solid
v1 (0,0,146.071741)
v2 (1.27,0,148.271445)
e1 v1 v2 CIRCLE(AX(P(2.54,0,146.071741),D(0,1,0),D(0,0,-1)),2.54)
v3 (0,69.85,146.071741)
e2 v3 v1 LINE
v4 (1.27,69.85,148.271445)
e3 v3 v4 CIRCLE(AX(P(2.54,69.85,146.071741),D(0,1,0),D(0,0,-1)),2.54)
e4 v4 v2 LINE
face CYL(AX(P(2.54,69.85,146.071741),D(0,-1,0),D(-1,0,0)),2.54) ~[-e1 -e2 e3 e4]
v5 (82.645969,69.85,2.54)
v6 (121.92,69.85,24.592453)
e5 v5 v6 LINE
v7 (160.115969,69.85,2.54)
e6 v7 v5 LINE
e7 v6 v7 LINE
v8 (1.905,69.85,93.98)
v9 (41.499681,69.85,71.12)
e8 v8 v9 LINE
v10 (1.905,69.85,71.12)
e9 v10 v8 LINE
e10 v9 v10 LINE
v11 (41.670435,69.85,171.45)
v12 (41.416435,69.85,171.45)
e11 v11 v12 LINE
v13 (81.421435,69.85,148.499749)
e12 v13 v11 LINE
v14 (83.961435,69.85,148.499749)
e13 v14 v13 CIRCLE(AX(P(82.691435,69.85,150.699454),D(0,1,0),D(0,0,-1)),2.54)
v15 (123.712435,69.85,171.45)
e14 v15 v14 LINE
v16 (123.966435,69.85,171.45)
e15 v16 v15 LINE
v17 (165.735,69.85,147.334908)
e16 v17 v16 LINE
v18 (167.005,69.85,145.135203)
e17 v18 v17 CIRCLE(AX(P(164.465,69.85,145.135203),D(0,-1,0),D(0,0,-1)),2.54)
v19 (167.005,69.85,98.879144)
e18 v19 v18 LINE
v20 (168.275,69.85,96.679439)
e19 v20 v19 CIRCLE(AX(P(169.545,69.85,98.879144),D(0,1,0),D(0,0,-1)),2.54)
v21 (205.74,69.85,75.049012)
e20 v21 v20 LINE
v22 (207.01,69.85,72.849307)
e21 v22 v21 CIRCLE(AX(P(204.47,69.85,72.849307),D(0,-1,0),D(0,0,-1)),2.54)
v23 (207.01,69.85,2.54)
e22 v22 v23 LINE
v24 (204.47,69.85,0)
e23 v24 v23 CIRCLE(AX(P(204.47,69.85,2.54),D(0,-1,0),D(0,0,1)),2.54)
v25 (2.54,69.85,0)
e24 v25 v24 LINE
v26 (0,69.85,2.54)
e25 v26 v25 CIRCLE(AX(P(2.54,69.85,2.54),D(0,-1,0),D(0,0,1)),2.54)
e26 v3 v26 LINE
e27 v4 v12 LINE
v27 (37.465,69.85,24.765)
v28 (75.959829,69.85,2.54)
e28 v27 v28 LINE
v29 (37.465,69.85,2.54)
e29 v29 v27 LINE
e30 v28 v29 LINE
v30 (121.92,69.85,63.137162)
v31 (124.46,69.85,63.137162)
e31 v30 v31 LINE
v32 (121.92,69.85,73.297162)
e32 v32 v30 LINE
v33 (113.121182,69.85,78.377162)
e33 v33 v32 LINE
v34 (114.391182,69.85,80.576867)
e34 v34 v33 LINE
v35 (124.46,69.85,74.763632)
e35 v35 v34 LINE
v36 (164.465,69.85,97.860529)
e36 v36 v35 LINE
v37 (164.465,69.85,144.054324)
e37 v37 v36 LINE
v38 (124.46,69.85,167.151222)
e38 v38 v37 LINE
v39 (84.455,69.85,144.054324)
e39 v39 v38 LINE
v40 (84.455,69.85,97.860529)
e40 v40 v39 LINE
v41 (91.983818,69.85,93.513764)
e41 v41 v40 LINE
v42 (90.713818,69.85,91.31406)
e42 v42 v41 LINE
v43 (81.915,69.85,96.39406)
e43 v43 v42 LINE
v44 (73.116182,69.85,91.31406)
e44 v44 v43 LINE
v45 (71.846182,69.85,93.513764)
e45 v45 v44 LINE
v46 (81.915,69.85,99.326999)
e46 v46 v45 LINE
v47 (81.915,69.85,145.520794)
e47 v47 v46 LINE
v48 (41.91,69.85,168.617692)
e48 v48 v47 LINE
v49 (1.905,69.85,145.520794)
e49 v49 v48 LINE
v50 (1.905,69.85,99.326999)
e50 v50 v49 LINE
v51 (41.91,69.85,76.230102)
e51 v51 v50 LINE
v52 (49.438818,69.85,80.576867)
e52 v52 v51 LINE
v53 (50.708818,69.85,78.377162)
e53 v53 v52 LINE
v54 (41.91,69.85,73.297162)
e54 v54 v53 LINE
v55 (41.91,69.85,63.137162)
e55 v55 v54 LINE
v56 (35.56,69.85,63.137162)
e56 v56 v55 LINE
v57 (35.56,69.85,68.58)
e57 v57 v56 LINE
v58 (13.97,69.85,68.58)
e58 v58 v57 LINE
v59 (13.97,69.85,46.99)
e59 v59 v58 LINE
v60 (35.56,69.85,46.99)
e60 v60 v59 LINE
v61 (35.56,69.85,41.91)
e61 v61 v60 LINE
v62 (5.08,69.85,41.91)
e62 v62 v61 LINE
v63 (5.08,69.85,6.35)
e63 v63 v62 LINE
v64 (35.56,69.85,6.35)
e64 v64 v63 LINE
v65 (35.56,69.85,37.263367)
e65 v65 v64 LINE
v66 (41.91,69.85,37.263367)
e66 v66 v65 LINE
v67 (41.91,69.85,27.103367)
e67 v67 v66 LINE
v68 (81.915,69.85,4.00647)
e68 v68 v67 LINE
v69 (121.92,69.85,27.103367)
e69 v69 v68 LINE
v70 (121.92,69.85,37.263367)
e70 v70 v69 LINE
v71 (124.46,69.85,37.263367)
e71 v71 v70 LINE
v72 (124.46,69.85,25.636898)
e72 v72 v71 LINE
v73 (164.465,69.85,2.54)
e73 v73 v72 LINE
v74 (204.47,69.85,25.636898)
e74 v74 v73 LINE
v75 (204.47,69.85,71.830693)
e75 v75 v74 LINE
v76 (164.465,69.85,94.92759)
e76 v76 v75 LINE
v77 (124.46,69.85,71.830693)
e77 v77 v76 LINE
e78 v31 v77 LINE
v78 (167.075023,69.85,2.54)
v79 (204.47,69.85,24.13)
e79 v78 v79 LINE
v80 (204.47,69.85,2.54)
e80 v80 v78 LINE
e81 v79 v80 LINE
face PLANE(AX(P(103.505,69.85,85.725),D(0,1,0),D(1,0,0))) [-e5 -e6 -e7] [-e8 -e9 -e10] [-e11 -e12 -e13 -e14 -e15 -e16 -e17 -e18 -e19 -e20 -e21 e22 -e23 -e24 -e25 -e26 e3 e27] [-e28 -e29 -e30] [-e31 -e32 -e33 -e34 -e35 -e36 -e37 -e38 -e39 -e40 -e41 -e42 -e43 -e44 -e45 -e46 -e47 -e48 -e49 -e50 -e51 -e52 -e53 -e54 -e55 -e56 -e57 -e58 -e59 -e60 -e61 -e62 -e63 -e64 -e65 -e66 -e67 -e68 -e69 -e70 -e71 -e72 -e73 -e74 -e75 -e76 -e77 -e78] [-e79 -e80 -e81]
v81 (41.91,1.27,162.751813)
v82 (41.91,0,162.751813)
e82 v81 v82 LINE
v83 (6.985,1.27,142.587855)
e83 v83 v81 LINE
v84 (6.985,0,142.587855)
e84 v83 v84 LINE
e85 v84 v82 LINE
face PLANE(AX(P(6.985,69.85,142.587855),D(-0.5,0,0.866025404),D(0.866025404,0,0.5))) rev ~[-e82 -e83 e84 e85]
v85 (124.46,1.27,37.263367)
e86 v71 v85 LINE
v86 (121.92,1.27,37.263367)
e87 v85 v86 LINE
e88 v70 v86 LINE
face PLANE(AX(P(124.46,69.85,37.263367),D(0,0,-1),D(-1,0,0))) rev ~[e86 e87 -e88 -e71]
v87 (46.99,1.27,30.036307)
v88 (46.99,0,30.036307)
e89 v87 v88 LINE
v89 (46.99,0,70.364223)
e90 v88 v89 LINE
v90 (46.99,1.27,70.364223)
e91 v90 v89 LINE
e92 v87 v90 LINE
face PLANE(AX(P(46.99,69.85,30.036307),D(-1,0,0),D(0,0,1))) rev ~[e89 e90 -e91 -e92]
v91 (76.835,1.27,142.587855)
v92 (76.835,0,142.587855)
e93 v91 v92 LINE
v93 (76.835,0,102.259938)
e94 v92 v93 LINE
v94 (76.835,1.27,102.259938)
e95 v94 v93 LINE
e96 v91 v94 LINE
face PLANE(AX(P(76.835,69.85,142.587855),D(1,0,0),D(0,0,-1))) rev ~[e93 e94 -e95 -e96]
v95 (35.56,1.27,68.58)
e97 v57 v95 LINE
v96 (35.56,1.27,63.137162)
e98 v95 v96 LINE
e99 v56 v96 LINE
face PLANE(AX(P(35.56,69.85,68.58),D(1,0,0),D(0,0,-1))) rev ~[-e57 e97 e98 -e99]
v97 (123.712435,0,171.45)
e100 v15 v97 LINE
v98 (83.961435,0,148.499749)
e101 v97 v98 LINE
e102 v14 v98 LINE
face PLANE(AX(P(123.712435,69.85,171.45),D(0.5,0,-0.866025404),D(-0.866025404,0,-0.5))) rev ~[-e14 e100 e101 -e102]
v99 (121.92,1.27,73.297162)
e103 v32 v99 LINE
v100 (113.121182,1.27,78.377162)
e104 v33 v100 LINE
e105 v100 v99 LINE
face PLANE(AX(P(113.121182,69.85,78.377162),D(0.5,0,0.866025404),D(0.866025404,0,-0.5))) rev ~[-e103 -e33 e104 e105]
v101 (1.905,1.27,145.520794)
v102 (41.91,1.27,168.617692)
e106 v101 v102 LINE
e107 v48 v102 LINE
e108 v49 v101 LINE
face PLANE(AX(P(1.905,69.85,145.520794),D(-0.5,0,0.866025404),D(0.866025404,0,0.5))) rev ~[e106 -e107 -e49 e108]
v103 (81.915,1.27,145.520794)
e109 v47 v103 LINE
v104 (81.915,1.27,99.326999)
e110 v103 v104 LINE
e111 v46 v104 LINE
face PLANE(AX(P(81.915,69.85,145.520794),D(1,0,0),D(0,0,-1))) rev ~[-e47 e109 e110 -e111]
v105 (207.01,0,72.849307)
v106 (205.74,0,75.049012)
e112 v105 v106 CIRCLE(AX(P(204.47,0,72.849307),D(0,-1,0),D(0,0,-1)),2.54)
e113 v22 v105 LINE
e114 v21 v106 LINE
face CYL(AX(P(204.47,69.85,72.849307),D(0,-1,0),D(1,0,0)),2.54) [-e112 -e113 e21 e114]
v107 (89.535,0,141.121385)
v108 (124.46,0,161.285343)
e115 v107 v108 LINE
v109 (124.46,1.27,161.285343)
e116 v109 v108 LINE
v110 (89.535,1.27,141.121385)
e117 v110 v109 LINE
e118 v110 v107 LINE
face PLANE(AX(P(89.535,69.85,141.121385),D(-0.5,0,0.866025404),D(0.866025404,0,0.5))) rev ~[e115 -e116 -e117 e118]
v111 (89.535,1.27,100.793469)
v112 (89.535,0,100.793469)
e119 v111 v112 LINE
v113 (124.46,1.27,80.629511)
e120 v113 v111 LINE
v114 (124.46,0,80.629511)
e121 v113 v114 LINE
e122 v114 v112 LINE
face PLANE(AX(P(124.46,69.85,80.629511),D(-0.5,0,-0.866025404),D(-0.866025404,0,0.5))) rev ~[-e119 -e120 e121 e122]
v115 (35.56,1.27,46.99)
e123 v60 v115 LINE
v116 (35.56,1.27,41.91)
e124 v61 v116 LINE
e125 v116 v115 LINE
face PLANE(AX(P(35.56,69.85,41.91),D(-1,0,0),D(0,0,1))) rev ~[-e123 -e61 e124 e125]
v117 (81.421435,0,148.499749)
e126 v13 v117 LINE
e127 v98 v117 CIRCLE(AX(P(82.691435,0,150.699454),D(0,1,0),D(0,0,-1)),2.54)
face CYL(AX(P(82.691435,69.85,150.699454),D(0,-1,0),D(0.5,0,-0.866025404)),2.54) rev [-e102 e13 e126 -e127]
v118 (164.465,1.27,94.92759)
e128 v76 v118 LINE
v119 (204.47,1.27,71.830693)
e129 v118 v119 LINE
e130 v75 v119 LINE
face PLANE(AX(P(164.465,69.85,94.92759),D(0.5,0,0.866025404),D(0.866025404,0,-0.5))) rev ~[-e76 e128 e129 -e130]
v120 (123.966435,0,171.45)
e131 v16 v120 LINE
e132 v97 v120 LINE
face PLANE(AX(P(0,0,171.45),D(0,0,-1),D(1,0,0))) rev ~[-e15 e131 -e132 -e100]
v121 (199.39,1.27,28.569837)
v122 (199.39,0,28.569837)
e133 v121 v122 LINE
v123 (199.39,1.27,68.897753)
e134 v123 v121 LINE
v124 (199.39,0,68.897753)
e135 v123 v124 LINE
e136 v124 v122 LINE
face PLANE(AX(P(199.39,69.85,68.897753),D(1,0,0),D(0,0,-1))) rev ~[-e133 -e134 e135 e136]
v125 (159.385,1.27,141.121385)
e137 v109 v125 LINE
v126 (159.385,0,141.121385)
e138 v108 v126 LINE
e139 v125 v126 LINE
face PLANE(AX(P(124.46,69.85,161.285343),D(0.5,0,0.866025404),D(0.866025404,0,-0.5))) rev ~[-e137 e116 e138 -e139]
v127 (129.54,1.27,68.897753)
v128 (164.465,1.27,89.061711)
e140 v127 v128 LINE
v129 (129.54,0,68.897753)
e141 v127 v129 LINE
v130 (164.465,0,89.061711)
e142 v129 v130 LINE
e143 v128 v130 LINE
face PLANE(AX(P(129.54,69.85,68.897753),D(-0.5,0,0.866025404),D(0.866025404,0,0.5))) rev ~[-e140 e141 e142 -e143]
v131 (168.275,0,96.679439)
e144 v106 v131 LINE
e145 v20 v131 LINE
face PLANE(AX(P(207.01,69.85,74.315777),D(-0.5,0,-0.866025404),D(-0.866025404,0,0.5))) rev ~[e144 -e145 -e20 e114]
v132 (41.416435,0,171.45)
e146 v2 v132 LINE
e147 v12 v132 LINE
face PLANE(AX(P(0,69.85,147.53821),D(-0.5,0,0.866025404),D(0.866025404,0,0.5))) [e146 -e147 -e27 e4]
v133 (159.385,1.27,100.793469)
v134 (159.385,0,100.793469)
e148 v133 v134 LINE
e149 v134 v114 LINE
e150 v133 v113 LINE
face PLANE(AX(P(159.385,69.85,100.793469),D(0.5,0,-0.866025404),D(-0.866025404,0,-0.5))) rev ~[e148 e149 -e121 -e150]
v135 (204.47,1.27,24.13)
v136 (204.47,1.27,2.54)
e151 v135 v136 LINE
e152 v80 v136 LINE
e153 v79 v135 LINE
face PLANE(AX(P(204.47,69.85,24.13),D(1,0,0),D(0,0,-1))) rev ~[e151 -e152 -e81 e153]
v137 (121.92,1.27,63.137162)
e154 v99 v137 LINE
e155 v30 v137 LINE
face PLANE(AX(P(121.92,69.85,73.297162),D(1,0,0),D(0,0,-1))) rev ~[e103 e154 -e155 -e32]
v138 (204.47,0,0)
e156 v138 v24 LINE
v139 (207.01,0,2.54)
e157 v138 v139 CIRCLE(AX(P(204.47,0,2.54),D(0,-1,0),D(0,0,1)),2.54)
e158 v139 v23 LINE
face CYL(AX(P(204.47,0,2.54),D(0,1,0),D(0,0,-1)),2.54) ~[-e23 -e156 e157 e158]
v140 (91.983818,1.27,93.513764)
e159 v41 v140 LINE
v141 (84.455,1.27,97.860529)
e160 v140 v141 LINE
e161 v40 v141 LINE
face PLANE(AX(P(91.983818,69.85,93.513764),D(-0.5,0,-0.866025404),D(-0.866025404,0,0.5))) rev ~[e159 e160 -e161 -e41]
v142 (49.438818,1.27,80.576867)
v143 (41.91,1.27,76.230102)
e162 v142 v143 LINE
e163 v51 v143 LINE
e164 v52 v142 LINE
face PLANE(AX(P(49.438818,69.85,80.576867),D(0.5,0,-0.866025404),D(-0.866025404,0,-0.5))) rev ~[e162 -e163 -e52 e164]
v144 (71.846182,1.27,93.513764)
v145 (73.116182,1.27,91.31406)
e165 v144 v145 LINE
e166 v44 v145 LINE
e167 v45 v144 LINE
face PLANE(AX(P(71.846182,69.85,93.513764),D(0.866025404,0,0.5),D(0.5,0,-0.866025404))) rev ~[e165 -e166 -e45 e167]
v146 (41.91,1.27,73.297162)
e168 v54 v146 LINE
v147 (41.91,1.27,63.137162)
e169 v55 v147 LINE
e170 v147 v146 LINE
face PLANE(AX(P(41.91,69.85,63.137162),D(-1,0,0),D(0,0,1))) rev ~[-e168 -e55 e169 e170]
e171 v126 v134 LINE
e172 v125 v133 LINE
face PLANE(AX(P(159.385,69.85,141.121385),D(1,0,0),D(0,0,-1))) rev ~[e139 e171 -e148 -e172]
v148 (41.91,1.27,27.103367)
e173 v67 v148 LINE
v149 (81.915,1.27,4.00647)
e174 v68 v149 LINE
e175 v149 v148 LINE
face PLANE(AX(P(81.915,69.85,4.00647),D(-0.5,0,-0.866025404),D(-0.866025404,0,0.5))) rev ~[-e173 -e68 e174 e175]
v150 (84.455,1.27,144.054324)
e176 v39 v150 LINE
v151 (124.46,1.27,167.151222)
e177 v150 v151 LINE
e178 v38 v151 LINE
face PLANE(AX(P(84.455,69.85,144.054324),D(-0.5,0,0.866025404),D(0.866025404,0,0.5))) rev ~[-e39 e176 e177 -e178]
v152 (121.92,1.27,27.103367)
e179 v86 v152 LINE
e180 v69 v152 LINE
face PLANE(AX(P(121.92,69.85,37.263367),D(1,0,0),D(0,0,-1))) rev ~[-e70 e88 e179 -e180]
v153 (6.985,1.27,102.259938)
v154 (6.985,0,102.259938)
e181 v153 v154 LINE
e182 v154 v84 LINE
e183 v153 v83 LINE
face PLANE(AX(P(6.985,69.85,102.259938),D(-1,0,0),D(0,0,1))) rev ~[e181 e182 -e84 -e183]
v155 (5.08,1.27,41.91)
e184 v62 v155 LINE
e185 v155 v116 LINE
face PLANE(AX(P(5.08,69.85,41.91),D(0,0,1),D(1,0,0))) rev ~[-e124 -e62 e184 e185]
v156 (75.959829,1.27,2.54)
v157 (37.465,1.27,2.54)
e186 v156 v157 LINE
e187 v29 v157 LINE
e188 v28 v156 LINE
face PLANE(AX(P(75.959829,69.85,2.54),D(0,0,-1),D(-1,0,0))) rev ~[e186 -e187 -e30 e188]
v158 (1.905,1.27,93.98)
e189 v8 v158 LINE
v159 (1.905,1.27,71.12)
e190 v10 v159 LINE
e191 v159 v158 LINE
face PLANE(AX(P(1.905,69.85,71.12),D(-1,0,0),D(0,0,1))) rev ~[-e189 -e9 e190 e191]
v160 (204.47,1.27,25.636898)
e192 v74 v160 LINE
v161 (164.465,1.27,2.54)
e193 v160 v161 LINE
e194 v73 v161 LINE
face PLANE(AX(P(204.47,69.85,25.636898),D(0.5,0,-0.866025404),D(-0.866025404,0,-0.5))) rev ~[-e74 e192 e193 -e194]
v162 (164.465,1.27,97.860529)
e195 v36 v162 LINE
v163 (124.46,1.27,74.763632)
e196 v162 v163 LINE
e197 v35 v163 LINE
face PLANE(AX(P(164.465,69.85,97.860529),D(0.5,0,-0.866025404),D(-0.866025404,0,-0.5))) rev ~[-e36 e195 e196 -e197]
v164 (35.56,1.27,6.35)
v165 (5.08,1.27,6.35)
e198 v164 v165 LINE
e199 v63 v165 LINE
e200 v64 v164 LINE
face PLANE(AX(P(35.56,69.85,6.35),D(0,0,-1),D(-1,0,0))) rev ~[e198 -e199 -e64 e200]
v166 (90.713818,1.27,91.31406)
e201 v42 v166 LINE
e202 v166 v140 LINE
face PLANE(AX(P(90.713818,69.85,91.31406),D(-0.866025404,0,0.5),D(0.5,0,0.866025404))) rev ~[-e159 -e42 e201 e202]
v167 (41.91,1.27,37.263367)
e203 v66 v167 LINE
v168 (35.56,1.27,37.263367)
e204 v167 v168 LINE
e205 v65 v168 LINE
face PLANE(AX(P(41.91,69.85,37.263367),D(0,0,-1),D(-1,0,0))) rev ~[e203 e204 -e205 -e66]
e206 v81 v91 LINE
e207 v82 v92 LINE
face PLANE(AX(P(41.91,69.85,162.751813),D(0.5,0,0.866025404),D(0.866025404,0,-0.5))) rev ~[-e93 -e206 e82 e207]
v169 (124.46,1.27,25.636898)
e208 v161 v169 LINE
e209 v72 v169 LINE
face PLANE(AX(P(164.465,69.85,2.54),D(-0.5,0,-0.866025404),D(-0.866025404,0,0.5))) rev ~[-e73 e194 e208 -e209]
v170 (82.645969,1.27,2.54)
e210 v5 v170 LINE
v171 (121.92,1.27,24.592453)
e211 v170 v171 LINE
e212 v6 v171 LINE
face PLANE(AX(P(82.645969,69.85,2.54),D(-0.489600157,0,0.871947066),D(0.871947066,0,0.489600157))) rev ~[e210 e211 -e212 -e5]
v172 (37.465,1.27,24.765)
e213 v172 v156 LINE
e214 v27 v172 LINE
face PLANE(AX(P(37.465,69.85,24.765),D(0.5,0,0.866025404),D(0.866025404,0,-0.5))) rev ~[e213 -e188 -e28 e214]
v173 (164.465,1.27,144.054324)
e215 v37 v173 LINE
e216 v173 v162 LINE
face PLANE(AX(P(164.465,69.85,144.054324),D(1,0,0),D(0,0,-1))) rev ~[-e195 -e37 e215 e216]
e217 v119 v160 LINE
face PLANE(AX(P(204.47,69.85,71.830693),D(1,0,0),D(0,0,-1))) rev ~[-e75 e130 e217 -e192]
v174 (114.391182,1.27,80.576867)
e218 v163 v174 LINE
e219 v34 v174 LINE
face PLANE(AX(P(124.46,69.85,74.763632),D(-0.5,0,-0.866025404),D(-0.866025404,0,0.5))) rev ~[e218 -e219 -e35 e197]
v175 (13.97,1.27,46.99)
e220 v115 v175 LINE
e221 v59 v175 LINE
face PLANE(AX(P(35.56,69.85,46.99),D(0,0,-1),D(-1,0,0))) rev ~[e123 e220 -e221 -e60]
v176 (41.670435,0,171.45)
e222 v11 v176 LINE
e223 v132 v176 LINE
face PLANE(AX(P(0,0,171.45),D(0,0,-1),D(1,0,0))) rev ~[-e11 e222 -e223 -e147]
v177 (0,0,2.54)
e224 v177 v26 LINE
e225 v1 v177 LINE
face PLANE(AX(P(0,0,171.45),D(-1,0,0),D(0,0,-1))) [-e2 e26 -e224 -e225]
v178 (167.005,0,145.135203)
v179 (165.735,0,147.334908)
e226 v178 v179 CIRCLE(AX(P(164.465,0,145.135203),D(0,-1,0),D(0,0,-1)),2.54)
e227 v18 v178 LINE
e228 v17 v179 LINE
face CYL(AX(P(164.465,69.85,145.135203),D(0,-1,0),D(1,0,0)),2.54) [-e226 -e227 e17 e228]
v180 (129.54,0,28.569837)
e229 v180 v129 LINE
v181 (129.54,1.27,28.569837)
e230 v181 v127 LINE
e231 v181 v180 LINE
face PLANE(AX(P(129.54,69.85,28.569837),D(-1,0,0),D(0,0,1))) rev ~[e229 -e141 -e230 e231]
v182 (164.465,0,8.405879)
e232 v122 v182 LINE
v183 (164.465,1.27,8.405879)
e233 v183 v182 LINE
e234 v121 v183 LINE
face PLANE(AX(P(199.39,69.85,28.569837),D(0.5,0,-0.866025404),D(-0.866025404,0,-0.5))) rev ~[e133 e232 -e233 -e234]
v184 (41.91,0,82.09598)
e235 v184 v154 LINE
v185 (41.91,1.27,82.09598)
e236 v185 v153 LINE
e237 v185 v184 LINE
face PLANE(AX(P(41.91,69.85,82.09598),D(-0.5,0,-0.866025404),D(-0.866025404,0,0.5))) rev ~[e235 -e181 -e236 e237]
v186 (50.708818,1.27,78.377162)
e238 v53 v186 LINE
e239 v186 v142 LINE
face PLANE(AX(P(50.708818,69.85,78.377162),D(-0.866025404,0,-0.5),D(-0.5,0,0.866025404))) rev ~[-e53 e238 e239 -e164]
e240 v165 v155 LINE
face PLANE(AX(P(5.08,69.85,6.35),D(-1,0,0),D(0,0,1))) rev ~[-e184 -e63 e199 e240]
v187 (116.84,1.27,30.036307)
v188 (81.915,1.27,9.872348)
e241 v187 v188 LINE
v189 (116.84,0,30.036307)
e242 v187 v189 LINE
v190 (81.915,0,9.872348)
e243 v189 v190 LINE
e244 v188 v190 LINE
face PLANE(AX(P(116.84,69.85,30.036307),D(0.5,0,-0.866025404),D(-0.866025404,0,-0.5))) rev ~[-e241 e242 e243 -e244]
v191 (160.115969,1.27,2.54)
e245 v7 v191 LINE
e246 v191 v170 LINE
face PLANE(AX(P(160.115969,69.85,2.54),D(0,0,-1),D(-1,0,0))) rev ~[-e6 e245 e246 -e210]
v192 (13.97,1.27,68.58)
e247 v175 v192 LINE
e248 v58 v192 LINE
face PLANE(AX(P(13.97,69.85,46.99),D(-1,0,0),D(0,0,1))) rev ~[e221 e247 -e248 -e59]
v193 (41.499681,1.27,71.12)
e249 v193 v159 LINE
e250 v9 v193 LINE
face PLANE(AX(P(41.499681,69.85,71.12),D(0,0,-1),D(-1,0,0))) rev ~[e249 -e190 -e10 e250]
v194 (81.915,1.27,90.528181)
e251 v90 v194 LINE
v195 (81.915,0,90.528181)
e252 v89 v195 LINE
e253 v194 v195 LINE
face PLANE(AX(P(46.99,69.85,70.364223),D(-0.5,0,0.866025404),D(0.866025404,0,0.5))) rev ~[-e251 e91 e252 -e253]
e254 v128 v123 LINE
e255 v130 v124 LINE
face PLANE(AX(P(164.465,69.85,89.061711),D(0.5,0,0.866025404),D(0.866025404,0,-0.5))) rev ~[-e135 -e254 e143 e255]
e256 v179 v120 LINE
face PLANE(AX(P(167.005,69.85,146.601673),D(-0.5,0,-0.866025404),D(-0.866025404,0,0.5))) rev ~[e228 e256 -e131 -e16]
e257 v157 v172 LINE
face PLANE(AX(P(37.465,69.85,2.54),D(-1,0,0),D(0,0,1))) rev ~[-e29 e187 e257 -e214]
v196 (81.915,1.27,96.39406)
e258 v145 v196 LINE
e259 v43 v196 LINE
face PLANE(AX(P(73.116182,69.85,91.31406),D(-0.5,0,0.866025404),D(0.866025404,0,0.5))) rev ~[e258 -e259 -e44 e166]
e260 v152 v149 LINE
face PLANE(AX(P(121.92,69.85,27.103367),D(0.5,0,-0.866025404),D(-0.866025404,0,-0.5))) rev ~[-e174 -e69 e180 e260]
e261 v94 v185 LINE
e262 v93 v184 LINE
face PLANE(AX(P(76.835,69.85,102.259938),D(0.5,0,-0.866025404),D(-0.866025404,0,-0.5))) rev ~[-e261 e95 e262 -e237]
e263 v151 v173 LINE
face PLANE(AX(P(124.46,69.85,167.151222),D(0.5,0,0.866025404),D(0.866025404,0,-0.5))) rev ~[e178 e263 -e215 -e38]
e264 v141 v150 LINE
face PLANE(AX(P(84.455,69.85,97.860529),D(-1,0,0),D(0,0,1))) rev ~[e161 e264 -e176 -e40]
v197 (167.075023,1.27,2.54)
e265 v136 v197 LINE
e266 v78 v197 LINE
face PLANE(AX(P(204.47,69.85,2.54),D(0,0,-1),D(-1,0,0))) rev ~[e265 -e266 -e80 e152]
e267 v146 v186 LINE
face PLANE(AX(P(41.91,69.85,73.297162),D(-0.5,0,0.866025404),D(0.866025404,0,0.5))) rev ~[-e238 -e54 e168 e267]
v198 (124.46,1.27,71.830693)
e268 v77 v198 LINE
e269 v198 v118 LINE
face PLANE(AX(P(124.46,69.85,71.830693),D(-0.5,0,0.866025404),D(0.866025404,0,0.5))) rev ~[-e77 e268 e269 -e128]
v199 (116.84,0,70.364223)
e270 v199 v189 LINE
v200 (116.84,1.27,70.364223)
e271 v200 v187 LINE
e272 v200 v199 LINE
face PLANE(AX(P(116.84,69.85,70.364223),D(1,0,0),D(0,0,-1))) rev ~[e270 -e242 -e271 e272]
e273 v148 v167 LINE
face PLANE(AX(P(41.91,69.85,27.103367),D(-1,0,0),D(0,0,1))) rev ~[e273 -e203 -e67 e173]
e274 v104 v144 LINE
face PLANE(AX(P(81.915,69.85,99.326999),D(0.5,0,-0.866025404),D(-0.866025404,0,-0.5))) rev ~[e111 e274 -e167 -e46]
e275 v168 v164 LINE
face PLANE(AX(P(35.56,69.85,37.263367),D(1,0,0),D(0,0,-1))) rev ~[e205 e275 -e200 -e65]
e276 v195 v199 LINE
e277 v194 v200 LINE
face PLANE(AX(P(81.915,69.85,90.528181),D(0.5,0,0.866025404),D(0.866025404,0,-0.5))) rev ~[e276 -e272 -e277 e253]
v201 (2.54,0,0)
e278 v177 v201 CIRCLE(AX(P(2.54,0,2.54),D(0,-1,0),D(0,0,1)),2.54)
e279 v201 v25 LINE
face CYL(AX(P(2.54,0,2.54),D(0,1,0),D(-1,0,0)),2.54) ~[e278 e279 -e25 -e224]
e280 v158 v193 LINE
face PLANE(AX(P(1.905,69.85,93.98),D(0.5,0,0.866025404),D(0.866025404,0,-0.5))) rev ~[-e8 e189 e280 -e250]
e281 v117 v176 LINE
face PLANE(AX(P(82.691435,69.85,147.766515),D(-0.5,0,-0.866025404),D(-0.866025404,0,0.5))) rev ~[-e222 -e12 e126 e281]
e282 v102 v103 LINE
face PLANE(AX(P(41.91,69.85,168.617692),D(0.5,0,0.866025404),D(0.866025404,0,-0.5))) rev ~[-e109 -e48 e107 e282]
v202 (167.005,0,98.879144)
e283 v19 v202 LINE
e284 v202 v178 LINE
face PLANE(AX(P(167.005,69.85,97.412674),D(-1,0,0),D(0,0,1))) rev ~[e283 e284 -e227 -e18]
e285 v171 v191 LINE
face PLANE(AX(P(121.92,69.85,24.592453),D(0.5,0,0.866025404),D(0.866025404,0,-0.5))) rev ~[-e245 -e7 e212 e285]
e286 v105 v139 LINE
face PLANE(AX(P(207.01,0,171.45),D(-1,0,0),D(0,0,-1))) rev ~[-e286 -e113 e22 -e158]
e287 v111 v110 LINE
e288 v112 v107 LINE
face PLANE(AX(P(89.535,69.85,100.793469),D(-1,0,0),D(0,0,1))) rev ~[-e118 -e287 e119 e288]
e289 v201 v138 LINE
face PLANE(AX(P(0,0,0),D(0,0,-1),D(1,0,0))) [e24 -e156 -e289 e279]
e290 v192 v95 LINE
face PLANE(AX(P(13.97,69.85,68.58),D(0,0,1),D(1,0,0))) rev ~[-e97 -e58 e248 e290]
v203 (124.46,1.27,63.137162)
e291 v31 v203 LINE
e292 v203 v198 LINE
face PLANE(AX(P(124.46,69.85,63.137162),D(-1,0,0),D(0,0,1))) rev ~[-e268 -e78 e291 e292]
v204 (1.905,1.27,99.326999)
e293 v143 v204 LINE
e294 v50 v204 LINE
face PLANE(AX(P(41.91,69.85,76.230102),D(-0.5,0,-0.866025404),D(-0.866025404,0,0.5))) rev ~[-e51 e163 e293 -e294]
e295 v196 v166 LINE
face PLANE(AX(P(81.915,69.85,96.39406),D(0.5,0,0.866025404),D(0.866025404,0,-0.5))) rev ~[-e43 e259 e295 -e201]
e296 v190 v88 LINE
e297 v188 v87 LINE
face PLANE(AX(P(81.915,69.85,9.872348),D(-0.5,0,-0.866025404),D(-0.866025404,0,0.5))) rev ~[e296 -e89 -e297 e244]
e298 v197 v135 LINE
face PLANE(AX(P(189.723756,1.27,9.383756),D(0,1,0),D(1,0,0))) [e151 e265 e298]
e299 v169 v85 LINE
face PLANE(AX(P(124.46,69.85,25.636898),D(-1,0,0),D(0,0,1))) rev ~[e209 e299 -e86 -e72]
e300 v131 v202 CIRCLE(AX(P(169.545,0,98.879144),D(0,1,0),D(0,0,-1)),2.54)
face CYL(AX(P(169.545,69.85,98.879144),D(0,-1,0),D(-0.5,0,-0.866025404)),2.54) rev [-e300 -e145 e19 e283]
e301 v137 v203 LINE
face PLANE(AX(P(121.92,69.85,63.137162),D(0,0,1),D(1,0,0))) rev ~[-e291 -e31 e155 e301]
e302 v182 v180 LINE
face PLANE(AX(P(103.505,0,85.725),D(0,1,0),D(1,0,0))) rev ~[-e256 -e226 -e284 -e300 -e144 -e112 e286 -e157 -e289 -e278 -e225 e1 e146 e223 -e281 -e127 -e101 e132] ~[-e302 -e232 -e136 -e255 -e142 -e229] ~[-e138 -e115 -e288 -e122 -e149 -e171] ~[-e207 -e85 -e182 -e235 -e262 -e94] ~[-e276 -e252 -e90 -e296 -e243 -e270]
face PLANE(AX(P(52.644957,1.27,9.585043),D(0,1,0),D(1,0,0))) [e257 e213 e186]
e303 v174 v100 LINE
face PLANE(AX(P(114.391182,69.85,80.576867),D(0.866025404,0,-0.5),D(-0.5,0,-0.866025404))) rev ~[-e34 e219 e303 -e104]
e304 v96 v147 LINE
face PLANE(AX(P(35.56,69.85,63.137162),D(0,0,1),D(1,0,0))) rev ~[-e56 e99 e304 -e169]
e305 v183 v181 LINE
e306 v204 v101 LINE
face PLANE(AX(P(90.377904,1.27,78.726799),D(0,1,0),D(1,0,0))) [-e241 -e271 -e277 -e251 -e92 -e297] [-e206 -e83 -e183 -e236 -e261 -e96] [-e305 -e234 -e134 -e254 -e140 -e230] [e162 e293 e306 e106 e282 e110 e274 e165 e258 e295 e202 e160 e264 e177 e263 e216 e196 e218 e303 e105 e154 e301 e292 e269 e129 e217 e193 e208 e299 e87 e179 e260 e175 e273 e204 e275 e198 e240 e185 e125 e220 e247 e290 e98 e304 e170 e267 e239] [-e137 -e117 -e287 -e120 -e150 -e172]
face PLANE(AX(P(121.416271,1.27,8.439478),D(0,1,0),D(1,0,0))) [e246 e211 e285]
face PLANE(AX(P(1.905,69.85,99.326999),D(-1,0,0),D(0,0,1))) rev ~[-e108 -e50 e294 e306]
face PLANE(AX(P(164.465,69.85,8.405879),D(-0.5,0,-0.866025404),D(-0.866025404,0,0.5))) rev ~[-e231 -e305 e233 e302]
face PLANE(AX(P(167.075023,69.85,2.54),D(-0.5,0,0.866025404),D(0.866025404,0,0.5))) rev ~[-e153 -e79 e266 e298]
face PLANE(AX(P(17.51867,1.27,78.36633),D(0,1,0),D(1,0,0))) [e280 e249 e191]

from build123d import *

# Parameters (mm, degrees)
SKETCH1_W               = 207.01
SKETCH1_H               = 171.45
BOSS_EXTRUDE1_DEPTH     = 69.85
CUT_EXTRUDE1_DEPTH      = 68.58
CUT_EXTRUDE2_DEPTH      = 1
CUT_EXTRUDE2_DEPTH_BACK = 70.85
FILLET3_R               = 2.54


with BuildPart() as part:
    # Sketch1 → Boss-Extrude1 (new body)
    with BuildSketch(Plane(origin=(0, 0, 0), x_dir=(1, 0, 0), z_dir=(0, 1, 0))):
        with Locations((103.505, -85.725)):
            Rectangle(SKETCH1_W, SKETCH1_H)
    extrude(amount=BOSS_EXTRUDE1_DEPTH)

    # Sketch3 → Cut-Extrude1 (cut)
    with BuildSketch(Plane(origin=(0, 69.85, 0), x_dir=(1, 0, 0), z_dir=(0, 1, 0))):
        Polygon((1.905, -93.98), (41.499681461, -71.12), (1.905, -71.12), align=None)
        Polygon((41.91, -76.230101608), (1.905, -99.326999127), (1.905, -145.520794165), (41.91, -168.617691684), (81.915, -145.520794165), (81.915, -99.326999127), (71.846181898, -93.513764285), (73.116181898, -91.314059759), (81.915, -96.394059759), (90.713818102, -91.314059759), (91.983818102, -93.513764285), (84.455, -97.860529443), (84.455, -144.054324481), (124.46, -167.151222), (164.465, -144.054324481), (164.465, -97.860529443), (124.46, -74.763631924), (114.391181898, -80.576866766), (113.121181898, -78.377162241), (121.92, -73.297162241), (121.92, -63.137162241), (124.46, -63.137162241), (124.46, -71.830692557), (164.465, -94.927590076), (204.47, -71.830692557), (204.47, -25.636897519), (164.465, -2.54), (124.46, -25.636897519), (124.46, -37.263367203), (121.92, -37.263367203), (121.92, -27.103367203), (81.915, -4.006469684), (41.91, -27.103367203), (41.91, -37.263367203), (35.56, -37.263367203), (35.56, -6.35), (5.08, -6.35), (5.08, -41.91), (35.56, -41.91), (35.56, -46.99), (13.97, -46.99), (13.97, -68.58), (35.56, -68.58), (35.56, -63.137162241), (41.91, -63.137162241), (41.91, -73.297162241), (50.708818102, -78.377162241), (49.438818102, -80.576866766), align=None)
        Polygon((37.465, -24.765), (75.959829198, -2.54), (37.465, -2.54), align=None)
        Polygon((167.075023065, -2.54), (204.47, -24.13), (204.47, -2.54), align=None)
        Polygon((82.645969059, -2.54), (121.92, -24.592453018), (160.115969059, -2.54), align=None)
    extrude(amount=-CUT_EXTRUDE1_DEPTH, mode=Mode.SUBTRACT)

    # Sketch4 → Cut-Extrude2 (cut, two sides)
    with BuildSketch(Plane(origin=(0, 69.85, 0), x_dir=(1, 0, 0), z_dir=(0, 1, 0))) as cut_extrude2_sk:
        Polygon((207.01, -74.315776706), (167.005, -97.412674225), (167.005, -146.601672765), (123.966434747, -171.45), (167.005, -171.45), (207.01, -171.45), align=None)
        Polygon((0, -147.53821025), (41.416434747, -171.45), (0, -171.45), align=None)
        Polygon((41.670434747, -171.45), (123.712434747, -171.45), (82.691434747, -147.766514608), align=None)
        Polygon((81.915, -9.872348419), (46.99, -30.03630657), (46.99, -70.364222873), (81.915, -90.528181024), (116.84, -70.364222873), (116.84, -30.03630657), align=None)
        Polygon((164.465, -8.405878735), (129.54, -28.569836886), (129.54, -68.897753189), (164.465, -89.061711341), (199.39, -68.897753189), (199.39, -28.569836886), align=None)
        Polygon((41.91, -82.095980343), (6.985, -102.259938494), (6.985, -142.587854797), (41.91, -162.751812949), (76.835, -142.587854797), (76.835, -102.259938494), align=None)
        Polygon((124.46, -80.629510659), (89.535, -100.793468811), (89.535, -141.121385114), (124.46, -161.285343265), (159.385, -141.121385114), (159.385, -100.793468811), align=None)
    extrude(amount=CUT_EXTRUDE2_DEPTH, mode=Mode.SUBTRACT)
    extrude(cut_extrude2_sk.sketch, amount=-CUT_EXTRUDE2_DEPTH_BACK, mode=Mode.SUBTRACT)

    # Fillet3
    fillet3_edges = [part.edges().sort_by_distance(p)[0] for p in [
        (0, 34.925, 147.53821025),
        (82.691434747, 34.925, 147.766514608),
        (207.01, 34.925, 74.315776706),
        (167.005, 34.925, 146.601672765),
        (167.005, 34.925, 97.412674225),
        (0, 34.925, 0),
        (207.01, 34.925, 0),
    ]]
    fillet(fillet3_edges, radius=FILLET3_R)


solid = part.part
